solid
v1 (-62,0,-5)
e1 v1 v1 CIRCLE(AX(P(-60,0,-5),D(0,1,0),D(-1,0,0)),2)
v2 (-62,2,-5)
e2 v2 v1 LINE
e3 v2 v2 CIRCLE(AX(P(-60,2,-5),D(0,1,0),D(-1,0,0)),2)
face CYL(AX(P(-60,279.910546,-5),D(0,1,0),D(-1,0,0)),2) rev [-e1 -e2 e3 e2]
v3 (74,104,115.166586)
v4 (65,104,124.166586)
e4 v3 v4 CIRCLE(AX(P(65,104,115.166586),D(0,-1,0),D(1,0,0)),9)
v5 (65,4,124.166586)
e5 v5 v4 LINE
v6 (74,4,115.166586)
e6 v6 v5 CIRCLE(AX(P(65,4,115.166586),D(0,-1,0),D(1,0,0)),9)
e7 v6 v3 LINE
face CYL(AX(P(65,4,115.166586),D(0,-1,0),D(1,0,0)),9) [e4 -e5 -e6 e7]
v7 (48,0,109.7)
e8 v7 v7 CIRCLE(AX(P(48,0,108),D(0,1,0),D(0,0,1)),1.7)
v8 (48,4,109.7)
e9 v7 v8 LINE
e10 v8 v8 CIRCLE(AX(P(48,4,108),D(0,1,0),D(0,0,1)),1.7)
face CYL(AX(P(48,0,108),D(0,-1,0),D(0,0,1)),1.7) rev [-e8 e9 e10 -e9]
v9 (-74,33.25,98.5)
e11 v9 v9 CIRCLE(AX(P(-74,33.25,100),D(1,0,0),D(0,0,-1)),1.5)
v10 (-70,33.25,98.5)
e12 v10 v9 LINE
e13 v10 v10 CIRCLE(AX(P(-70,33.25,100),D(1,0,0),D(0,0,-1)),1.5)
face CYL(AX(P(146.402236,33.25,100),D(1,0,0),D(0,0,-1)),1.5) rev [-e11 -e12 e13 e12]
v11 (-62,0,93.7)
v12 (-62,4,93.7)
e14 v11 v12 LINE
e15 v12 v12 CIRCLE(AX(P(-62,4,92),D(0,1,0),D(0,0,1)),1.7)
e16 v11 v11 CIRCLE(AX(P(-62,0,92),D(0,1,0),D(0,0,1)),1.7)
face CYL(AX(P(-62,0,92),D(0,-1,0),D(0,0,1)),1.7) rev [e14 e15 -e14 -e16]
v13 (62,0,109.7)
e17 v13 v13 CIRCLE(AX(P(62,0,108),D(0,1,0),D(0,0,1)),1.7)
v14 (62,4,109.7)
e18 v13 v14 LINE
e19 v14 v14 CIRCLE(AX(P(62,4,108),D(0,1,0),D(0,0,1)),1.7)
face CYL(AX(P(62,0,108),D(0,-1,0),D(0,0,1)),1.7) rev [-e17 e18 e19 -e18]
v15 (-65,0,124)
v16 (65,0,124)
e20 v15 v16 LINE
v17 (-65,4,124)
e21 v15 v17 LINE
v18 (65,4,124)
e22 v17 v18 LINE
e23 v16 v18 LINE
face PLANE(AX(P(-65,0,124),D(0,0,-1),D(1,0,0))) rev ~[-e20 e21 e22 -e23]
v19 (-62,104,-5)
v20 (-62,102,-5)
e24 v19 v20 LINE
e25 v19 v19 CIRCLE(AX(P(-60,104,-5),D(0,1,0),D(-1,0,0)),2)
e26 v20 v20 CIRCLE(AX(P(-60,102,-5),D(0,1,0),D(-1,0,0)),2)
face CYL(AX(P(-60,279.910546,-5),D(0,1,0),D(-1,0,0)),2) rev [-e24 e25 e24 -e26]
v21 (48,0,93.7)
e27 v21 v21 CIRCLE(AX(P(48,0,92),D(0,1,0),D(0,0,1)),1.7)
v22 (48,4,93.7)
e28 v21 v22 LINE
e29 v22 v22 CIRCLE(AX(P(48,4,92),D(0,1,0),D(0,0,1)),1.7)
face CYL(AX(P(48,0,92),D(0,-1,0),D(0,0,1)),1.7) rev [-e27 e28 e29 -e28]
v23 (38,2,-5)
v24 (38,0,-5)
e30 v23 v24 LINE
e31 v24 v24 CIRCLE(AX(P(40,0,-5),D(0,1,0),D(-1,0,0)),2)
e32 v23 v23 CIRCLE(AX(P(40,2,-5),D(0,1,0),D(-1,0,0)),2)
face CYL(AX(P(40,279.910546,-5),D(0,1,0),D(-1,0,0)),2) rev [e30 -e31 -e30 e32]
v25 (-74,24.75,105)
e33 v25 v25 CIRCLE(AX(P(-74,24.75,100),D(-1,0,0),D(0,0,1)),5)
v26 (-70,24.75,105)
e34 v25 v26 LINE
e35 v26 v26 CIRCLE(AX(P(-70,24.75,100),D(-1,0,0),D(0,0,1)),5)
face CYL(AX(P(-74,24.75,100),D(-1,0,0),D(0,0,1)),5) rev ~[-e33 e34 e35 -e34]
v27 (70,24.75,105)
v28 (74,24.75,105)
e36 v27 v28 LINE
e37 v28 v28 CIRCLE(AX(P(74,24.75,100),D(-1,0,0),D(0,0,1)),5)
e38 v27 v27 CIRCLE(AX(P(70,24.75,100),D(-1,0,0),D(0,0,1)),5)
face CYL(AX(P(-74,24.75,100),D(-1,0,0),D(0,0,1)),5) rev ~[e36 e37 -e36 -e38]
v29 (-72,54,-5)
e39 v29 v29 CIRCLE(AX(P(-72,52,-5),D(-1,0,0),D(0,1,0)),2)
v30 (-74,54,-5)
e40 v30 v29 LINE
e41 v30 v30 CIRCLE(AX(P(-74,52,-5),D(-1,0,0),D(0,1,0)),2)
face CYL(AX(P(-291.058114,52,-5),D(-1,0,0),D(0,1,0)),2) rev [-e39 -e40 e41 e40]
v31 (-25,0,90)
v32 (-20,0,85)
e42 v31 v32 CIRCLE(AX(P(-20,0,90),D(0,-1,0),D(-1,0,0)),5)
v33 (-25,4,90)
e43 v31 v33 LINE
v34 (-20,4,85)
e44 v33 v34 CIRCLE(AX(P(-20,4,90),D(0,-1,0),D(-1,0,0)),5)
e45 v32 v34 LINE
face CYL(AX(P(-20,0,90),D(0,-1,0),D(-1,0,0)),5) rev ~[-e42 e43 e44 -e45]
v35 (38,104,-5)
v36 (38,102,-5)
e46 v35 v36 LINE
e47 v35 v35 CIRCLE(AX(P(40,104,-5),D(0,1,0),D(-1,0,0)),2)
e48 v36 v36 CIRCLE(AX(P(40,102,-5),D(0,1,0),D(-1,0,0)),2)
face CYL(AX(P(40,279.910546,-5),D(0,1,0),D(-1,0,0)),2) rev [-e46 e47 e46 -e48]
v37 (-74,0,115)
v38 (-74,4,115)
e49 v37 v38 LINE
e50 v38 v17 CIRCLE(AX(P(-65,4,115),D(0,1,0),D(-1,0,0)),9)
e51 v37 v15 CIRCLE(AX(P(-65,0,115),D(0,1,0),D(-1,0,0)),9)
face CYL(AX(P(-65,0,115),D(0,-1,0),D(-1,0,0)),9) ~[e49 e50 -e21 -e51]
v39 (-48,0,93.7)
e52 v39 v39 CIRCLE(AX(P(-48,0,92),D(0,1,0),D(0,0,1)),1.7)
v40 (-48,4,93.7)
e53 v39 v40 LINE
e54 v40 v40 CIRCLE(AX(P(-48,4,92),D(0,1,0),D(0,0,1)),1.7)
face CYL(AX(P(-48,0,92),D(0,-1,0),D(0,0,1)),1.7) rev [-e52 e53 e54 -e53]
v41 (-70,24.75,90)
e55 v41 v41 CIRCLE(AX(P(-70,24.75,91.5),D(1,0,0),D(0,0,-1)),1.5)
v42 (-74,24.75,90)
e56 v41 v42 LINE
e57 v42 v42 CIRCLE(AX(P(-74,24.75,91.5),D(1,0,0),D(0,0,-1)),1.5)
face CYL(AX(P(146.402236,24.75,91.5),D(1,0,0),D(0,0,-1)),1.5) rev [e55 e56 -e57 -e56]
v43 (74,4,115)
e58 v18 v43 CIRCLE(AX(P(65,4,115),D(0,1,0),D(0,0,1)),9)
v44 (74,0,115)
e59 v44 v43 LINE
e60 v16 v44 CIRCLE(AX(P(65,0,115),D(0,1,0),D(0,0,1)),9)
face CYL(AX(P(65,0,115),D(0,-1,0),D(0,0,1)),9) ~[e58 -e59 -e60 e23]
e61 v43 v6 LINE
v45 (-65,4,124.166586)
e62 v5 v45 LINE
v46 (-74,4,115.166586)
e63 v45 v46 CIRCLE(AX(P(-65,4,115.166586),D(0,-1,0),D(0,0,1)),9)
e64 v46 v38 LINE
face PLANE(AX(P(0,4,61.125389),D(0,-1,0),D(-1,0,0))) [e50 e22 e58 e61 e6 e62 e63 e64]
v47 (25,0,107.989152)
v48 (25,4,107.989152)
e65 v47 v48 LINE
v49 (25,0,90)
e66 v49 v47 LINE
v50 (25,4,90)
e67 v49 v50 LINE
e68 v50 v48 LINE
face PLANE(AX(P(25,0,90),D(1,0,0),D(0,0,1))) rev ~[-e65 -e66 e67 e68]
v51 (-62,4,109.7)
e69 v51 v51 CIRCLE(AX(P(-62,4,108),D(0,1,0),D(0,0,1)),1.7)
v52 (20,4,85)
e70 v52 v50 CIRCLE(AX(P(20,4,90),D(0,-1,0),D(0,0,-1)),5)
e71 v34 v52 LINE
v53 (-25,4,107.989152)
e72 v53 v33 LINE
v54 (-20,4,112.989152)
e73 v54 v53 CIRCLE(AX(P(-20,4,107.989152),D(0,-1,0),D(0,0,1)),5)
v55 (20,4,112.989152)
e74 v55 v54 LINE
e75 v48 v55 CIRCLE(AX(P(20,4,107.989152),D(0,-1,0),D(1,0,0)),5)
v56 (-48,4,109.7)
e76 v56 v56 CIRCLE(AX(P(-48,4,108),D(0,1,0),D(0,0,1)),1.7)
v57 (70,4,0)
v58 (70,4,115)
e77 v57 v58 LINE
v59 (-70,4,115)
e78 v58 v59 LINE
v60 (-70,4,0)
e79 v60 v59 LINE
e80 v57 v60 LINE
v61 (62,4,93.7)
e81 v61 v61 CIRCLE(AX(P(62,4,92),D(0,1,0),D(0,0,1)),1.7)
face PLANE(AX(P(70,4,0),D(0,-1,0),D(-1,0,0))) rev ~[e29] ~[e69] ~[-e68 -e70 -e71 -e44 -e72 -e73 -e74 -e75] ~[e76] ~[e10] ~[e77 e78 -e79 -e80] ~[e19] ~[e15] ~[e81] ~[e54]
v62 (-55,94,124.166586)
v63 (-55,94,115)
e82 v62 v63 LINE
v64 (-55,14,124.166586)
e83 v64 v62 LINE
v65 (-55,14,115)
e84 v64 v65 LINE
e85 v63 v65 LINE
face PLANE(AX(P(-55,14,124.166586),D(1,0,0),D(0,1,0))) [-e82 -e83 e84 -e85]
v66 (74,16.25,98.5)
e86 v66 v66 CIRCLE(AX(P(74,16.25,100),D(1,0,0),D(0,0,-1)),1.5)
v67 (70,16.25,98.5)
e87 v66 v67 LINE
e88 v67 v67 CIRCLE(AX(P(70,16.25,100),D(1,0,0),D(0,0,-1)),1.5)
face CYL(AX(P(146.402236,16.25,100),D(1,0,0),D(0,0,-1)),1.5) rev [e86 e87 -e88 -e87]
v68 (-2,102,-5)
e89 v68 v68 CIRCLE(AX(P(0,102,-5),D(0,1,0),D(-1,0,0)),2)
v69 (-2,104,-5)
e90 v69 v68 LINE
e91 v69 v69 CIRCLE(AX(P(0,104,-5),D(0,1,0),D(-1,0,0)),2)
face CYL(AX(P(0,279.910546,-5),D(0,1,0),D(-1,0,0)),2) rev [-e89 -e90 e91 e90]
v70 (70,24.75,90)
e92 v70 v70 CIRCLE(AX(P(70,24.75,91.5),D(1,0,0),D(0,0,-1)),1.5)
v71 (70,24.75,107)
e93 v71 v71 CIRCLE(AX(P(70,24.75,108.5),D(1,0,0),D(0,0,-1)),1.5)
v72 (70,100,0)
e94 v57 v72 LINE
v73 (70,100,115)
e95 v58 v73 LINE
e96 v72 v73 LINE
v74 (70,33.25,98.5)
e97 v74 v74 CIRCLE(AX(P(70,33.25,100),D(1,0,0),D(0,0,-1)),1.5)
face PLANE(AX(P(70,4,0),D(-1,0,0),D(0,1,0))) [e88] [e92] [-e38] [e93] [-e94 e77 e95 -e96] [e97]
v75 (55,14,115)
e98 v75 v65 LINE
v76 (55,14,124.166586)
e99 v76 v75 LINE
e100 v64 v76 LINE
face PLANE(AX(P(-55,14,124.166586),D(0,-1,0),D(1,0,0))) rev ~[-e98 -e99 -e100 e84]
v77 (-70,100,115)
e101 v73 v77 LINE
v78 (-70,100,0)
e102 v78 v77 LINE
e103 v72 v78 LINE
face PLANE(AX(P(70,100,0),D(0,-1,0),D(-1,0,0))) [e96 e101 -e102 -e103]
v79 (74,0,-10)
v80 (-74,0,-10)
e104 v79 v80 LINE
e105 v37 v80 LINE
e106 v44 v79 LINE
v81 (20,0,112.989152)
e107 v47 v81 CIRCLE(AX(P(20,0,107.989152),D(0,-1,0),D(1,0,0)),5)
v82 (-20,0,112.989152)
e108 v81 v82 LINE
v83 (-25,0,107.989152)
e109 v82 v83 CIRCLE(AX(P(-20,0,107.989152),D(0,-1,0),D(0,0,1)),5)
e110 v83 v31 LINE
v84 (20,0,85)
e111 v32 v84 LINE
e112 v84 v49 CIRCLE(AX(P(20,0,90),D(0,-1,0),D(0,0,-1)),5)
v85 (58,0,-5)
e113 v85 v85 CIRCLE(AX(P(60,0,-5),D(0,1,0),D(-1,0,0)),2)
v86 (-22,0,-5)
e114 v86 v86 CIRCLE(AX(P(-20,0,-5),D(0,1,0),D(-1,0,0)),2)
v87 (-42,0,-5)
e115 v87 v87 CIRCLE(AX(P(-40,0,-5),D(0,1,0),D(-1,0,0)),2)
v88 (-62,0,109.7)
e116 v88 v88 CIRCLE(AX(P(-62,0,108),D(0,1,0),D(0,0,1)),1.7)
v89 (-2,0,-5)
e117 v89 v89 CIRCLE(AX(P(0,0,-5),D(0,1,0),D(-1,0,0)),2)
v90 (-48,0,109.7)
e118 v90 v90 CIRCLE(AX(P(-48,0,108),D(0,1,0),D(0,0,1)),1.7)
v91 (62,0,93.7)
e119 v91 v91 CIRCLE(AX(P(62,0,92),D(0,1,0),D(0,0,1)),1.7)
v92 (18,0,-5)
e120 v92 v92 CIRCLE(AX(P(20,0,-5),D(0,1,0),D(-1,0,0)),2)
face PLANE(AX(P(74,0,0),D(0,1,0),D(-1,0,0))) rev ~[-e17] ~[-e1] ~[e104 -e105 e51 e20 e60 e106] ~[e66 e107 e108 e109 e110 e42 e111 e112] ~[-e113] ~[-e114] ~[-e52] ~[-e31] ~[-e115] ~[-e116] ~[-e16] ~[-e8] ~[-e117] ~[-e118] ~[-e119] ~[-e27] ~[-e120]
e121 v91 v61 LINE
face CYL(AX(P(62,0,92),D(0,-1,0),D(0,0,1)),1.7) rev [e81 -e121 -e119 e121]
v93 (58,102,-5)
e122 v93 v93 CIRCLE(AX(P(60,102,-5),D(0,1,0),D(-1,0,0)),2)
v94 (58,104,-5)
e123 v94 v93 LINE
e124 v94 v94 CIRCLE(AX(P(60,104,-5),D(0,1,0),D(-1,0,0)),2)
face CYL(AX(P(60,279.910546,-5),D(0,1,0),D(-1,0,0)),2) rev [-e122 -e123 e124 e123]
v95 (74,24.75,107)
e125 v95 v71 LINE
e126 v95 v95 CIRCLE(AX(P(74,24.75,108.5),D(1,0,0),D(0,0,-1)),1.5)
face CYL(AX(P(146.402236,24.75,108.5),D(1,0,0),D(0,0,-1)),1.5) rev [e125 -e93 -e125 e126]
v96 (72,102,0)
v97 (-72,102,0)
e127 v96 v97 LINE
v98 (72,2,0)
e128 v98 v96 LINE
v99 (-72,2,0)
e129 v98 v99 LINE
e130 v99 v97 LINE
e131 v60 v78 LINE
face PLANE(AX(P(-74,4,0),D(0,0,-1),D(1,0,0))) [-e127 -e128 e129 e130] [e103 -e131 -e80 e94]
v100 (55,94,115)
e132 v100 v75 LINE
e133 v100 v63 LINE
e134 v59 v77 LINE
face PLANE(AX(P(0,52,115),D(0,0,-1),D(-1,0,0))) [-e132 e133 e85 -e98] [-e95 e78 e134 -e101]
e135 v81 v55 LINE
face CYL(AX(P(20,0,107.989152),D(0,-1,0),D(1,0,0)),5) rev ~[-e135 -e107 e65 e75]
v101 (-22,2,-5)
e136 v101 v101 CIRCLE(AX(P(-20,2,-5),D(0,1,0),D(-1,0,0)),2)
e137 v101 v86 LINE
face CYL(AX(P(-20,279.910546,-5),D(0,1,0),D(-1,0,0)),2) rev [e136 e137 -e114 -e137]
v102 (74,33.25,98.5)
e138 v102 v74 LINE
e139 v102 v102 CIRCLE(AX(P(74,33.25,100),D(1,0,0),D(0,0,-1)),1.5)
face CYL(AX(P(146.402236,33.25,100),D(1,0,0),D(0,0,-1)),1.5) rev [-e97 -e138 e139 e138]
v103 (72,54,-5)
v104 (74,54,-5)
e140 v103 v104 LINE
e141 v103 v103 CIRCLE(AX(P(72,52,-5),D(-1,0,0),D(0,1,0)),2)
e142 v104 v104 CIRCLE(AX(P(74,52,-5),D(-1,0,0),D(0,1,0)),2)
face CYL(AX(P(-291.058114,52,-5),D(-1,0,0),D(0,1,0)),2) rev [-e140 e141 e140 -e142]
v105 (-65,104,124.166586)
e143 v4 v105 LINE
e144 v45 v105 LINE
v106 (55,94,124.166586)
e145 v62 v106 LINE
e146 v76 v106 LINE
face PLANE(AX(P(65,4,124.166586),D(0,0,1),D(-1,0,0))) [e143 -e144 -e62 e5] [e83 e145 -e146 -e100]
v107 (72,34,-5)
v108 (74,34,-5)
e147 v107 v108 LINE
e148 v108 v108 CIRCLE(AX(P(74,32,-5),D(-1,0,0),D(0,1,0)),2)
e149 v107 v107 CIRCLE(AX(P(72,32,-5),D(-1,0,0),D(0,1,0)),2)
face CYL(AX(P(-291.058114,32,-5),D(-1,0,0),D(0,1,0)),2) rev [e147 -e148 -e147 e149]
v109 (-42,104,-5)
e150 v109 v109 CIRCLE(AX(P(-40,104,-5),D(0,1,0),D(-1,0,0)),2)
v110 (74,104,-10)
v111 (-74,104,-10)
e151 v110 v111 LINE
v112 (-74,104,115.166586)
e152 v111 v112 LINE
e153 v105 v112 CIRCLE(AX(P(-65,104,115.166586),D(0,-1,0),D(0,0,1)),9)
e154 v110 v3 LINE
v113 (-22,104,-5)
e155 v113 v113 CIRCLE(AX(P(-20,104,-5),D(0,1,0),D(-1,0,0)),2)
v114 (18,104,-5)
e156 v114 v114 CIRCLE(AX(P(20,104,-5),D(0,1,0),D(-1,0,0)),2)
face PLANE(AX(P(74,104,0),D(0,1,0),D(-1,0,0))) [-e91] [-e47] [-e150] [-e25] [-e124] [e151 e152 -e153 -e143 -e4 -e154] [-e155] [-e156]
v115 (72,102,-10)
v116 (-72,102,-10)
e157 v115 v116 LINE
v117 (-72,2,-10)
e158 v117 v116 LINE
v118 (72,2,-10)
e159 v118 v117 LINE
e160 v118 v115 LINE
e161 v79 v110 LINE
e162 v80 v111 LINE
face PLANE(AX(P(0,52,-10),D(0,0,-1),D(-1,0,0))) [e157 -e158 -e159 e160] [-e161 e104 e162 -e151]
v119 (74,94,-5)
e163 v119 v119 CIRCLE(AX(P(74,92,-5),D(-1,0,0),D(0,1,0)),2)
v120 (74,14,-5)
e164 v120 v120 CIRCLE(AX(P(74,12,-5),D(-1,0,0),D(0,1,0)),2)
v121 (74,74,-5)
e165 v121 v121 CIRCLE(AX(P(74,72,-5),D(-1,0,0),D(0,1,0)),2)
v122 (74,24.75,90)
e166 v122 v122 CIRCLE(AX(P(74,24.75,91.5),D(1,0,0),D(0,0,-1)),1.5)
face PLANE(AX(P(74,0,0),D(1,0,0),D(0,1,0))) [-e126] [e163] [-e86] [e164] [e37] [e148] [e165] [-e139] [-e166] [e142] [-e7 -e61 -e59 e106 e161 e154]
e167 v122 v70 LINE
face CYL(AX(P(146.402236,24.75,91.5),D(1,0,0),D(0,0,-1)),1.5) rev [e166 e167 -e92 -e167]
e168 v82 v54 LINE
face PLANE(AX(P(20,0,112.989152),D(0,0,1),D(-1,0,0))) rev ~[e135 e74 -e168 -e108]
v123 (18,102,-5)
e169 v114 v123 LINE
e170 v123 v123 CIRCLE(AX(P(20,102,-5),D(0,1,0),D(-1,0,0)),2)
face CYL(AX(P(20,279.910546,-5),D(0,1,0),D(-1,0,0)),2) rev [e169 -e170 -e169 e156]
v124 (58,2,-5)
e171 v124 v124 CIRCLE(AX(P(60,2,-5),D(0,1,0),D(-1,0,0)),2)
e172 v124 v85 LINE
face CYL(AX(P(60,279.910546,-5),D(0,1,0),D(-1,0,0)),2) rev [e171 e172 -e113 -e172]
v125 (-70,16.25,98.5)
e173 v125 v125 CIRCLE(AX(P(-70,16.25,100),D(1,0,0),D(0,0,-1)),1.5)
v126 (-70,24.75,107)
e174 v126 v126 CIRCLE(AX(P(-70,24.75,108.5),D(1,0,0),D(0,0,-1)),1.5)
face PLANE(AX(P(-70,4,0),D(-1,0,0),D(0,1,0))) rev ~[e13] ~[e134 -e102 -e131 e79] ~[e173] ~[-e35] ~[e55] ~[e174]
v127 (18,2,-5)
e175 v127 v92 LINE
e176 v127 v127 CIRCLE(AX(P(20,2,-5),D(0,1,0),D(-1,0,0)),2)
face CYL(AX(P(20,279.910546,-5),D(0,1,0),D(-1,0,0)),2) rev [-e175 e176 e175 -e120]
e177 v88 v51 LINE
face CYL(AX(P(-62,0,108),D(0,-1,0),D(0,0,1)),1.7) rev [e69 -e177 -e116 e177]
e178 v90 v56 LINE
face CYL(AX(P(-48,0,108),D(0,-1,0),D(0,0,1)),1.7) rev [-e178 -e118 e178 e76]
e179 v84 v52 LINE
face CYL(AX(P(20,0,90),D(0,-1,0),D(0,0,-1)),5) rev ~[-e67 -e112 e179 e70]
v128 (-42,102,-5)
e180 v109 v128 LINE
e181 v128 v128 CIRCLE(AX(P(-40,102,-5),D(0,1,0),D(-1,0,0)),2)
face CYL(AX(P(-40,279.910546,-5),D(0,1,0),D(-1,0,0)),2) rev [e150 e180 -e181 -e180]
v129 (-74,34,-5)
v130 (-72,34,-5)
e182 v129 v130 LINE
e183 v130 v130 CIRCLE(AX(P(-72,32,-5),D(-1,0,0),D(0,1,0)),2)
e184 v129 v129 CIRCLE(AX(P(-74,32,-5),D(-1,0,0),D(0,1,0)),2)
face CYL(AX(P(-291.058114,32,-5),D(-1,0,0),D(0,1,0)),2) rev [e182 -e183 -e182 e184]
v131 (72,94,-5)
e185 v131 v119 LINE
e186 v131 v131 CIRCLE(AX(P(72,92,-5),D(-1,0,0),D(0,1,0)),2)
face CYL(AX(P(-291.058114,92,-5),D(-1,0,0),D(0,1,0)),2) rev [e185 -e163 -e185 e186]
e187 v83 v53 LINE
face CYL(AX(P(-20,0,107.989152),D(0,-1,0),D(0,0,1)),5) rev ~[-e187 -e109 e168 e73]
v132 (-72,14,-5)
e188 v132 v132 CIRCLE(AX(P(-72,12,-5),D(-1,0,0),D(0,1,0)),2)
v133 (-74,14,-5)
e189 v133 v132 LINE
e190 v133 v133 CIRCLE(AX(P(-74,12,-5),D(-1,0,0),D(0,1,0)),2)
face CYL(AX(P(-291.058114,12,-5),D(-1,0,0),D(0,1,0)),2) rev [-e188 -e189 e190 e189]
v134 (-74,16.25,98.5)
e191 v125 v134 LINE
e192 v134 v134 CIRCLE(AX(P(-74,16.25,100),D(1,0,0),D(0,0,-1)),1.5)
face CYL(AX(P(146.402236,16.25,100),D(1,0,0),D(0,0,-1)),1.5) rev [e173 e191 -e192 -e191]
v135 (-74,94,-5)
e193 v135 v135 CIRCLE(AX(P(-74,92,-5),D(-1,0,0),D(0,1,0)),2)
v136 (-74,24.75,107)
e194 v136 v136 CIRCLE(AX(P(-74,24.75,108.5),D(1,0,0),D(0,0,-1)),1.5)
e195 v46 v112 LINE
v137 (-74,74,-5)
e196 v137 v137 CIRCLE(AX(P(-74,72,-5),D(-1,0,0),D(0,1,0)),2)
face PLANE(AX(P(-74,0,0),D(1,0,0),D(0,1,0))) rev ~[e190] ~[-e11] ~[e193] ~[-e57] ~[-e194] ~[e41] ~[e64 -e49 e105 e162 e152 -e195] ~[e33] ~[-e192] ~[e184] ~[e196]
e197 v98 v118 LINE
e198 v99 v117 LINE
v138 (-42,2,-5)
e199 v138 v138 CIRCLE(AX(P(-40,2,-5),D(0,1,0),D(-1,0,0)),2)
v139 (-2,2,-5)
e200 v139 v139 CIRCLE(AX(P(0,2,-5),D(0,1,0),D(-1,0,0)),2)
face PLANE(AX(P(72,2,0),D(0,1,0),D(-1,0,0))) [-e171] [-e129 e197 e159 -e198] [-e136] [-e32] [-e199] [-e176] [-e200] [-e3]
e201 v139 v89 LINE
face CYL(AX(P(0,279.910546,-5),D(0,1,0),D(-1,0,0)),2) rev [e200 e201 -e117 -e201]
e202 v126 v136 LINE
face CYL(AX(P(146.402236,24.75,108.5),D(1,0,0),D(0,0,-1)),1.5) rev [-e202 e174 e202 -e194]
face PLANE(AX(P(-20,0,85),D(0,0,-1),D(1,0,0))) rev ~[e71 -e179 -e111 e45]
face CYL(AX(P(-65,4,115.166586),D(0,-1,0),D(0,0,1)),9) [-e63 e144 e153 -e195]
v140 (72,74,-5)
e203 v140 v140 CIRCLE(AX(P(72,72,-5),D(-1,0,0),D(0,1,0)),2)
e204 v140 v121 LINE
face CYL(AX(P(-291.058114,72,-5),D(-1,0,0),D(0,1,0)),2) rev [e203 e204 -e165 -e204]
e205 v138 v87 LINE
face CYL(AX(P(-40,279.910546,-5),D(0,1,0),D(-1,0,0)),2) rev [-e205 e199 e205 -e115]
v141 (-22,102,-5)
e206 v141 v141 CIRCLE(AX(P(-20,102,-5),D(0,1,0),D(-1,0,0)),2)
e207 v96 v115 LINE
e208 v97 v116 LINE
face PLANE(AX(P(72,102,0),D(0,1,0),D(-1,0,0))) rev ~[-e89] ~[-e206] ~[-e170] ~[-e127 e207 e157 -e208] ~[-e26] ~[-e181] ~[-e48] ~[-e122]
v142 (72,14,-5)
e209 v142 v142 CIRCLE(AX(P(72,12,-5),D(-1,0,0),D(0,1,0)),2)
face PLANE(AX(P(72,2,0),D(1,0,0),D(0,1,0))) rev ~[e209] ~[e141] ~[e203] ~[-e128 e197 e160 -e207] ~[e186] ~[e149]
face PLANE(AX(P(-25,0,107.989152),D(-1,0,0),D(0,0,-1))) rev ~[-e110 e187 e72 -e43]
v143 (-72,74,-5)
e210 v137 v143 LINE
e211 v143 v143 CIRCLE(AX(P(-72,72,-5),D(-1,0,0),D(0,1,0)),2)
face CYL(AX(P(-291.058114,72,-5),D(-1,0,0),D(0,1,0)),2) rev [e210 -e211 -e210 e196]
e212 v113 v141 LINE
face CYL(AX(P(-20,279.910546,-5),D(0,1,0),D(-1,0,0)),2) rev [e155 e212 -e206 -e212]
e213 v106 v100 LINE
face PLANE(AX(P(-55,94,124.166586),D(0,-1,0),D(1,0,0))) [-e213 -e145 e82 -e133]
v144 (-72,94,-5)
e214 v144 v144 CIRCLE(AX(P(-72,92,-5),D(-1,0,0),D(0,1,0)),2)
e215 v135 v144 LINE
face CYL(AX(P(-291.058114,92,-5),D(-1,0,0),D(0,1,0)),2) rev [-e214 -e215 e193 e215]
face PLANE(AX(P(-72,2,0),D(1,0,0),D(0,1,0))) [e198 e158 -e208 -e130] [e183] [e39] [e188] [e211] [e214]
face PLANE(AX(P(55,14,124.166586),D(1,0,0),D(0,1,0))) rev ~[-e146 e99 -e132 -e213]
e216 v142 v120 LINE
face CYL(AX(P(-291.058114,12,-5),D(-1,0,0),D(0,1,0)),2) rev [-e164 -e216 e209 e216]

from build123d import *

# Parameters (mm, degrees)
SKETCH_1_R                = 1.7
EXTRUDE_6_DEPTH           = 4
EXTRUDE_7_DEPTH           = 100
SKETCH_10_W               = 140
SKETCH_10_H               = 96
CUT_EXTRUDE_20_DEPTH      = 115
CUT_EXTRUDE_22_DEPTH      = 220.402235989
CUT_EXTRUDE_22_DEPTH_BACK = 220.402235989
SKETCH_16_R               = 1.5
SKETCH_16_R_2             = 4
SKETCH_21_W               = 110
SKETCH_21_H               = 80
CUT_EXTRUDE_28_DEPTH      = 50
SKETCH_23_R               = 5
CUT_EXTRUDE_29_DEPTH      = 220.402235989
SKETCH_22_W               = 148
SKETCH_22_H               = 104
SKETCH_22_W_2             = 144
SKETCH_22_H_2             = 100
EXTRUDE_8_DEPTH           = 10
CUT_EXTRUDE_30_DEPTH      = 177.910545635
CUT_EXTRUDE_30_DEPTH_BACK = 177.910545635
SKETCH_27_R               = 2
CUT_EXTRUDE_31_DEPTH      = 219.058114174
CUT_EXTRUDE_31_DEPTH_BACK = 219.058114174
SKETCH_30_R               = 2


with BuildPart() as part:
    # 草图1 → 凸台-拉伸6 (new body)
    with BuildSketch(Plane(origin=(0, 0, 0), x_dir=(1, 0, 0), z_dir=(0, 1, 0))):
        with BuildLine():
            Line((-74, 0), (-74, -115))
            ThreePointArc((-74, -115), (-71.363961031, -121.363961031), (-65, -124))
            Line((-65, -124), (65, -124))
            ThreePointArc((65, -124), (71.363961031, -121.363961031), (74, -115))
            Line((74, -115), (74, 0))
            Line((74, 0), (-74, 0))
        make_face()
        with Locations(Location((-62, -108, 0), (0, 0, 270))):
            Circle(SKETCH_1_R, mode=Mode.SUBTRACT)
        with Locations(Location((-48, -108, 0), (0, 0, 270))):
            Circle(SKETCH_1_R, mode=Mode.SUBTRACT)
        with Locations(Location((48, -108, 0), (0, 0, 270))):
            Circle(SKETCH_1_R, mode=Mode.SUBTRACT)
        with Locations(Location((62, -108, 0), (0, 0, 270))):
            Circle(SKETCH_1_R, mode=Mode.SUBTRACT)
        with Locations(Location((-62, -92, 0), (0, 0, 270))):
            Circle(SKETCH_1_R, mode=Mode.SUBTRACT)
        with Locations(Location((-48, -92, 0), (0, 0, 270))):
            Circle(SKETCH_1_R, mode=Mode.SUBTRACT)
        with BuildLine():
            ThreePointArc((-25, -90), (-23.535533906, -86.464466094), (-20, -85))
            Line((-20, -85), (20, -85))
            ThreePointArc((20, -85), (23.535533906, -86.464466094), (25, -90))
            Line((25, -90), (25, -107.989151936))
            ThreePointArc((25, -107.989151936), (23.535533906, -111.524685842), (20, -112.989151936))
            Line((20, -112.989151936), (-20, -112.989151936))
            ThreePointArc((-20, -112.989151936), (-23.535533906, -111.524685842), (-25, -107.989151936))
            Line((-25, -107.989151936), (-25, -90))
        make_face(mode=Mode.SUBTRACT)
        with Locations(Location((48, -92, 0), (0, 0, 270))):
            Circle(SKETCH_1_R, mode=Mode.SUBTRACT)
        with Locations(Location((62, -92, 0), (0, 0, 270))):
            Circle(SKETCH_1_R, mode=Mode.SUBTRACT)
    extrude(amount=EXTRUDE_6_DEPTH)

    # 草图9 → 凸台-拉伸7 (add)
    with BuildSketch(Plane(origin=(0, 4, 0), x_dir=(1, 0, 0), z_dir=(0, 1, 0))):
        with BuildLine():
            Line((-74, 0), (74, 0))
            Line((74, 0), (74, -115.166586314))
            ThreePointArc((74, -115.166586314), (71.363961031, -121.530547345), (65, -124.166586314))
            Line((65, -124.166586314), (-65, -124.166586314))
            ThreePointArc((-65, -124.166586314), (-71.363961031, -121.530547345), (-74, -115.166586314))
            Line((-74, -115.166586314), (-74, 0))
        make_face()
    extrude(amount=EXTRUDE_7_DEPTH)

    # 草图10 → 切除-拉伸20 (cut)
    with BuildSketch(Plane(origin=(0, 0, 0), x_dir=(-1, 0, 0), z_dir=(0, 0, -1))):
        with Locations((0, 52)):
            Rectangle(SKETCH_10_W, SKETCH_10_H)
    extrude(amount=-CUT_EXTRUDE_20_DEPTH, mode=Mode.SUBTRACT)

    # 草图16 → 切除-拉伸22 (cut, two sides: drawn at the far end of the back side and taken through both)
    with BuildSketch(Plane.ZY.offset(74).offset(-CUT_EXTRUDE_22_DEPTH_BACK)):
        with Locations(Location((100, 16.25, 0), (0, 0, 180))):
            Circle(SKETCH_16_R)
        with Locations(Location((108.5, 24.75, 0), (0, 0, 180))):
            Circle(SKETCH_16_R)
        with Locations(Location((100, 24.75, 0), (0, 0, 180))):
            Circle(SKETCH_16_R_2)
        with Locations(Location((91.5, 24.75, 0), (0, 0, 180))):
            Circle(SKETCH_16_R)
        with Locations(Location((100, 33.25, 0), (0, 0, 180))):
            Circle(SKETCH_16_R)
    extrude(amount=CUT_EXTRUDE_22_DEPTH + CUT_EXTRUDE_22_DEPTH_BACK, mode=Mode.SUBTRACT)

    # 草图21 → 切除-拉伸28 (cut)
    with BuildSketch(Plane.XY.offset(124.166586314)):
        with Locations((0, 54)):
            Rectangle(SKETCH_21_W, SKETCH_21_H)
    extrude(amount=-CUT_EXTRUDE_28_DEPTH, mode=Mode.SUBTRACT)

    # 草图23 → 切除-拉伸29 (cut, through all)
    with BuildSketch(Plane.ZY.offset(74)):
        with Locations((100, 24.75)):
            Circle(SKETCH_23_R)
    extrude(amount=-CUT_EXTRUDE_29_DEPTH, mode=Mode.SUBTRACT)

    # 草图22 → 凸台-拉伸8 (add)
    with BuildSketch(Plane(origin=(0, 0, 0), x_dir=(-1, 0, 0), z_dir=(0, 0, -1))):
        with Locations((0, 52)):
            Rectangle(SKETCH_22_W, SKETCH_22_H)
        with Locations((0, 52)):
            Rectangle(SKETCH_22_W_2, SKETCH_22_H_2, mode=Mode.SUBTRACT)
    extrude(amount=EXTRUDE_8_DEPTH)

    # 草图27 → 切除-拉伸30 (cut, two sides: drawn at the far end of the back side and taken through both)
    with BuildSketch(Plane.XZ.offset(-102).offset(-CUT_EXTRUDE_30_DEPTH_BACK)):
        with Locations(Location((-60, -5, 0), (0, 0, 180))):
            Circle(SKETCH_27_R)
        with Locations(Location((-40, -5, 0), (0, 0, 180))):
            Circle(SKETCH_27_R)
        with Locations(Location((-20, -5, 0), (0, 0, 180))):
            Circle(SKETCH_27_R)
        with Locations(Location((40, -5, 0), (0, 0, 180))):
            Circle(SKETCH_27_R)
        with Locations(Location((0, -5, 0), (0, 0, 180))):
            Circle(SKETCH_27_R)
        with Locations(Location((20, -5, 0), (0, 0, 180))):
            Circle(SKETCH_27_R)
        with Locations(Location((60, -5, 0), (0, 0, 180))):
            Circle(SKETCH_27_R)
    extrude(amount=CUT_EXTRUDE_30_DEPTH + CUT_EXTRUDE_30_DEPTH_BACK, mode=Mode.SUBTRACT)

    # 草图30 → 切除-拉伸31 (cut, two sides: drawn at the far end of the back side and taken through both)
    with BuildSketch(Plane(origin=(-72, 0, 0), x_dir=(0, 0, -1), z_dir=(1, 0, 0)).offset(-CUT_EXTRUDE_31_DEPTH_BACK)):
        with Locations(Location((5, 52, 0), (0, 0, 90))):
            Circle(SKETCH_30_R)
        with Locations(Location((5, 72, 0), (0, 0, 90))):
            Circle(SKETCH_30_R)
        with Locations(Location((5, 92, 0), (0, 0, 90))):
            Circle(SKETCH_30_R)
        with Locations(Location((5, 12, 0), (0, 0, 90))):
            Circle(SKETCH_30_R)
        with Locations(Location((5, 32, 0), (0, 0, 90))):
            Circle(SKETCH_30_R)
    extrude(amount=CUT_EXTRUDE_31_DEPTH + CUT_EXTRUDE_31_DEPTH_BACK, mode=Mode.SUBTRACT)


solid = part.part
